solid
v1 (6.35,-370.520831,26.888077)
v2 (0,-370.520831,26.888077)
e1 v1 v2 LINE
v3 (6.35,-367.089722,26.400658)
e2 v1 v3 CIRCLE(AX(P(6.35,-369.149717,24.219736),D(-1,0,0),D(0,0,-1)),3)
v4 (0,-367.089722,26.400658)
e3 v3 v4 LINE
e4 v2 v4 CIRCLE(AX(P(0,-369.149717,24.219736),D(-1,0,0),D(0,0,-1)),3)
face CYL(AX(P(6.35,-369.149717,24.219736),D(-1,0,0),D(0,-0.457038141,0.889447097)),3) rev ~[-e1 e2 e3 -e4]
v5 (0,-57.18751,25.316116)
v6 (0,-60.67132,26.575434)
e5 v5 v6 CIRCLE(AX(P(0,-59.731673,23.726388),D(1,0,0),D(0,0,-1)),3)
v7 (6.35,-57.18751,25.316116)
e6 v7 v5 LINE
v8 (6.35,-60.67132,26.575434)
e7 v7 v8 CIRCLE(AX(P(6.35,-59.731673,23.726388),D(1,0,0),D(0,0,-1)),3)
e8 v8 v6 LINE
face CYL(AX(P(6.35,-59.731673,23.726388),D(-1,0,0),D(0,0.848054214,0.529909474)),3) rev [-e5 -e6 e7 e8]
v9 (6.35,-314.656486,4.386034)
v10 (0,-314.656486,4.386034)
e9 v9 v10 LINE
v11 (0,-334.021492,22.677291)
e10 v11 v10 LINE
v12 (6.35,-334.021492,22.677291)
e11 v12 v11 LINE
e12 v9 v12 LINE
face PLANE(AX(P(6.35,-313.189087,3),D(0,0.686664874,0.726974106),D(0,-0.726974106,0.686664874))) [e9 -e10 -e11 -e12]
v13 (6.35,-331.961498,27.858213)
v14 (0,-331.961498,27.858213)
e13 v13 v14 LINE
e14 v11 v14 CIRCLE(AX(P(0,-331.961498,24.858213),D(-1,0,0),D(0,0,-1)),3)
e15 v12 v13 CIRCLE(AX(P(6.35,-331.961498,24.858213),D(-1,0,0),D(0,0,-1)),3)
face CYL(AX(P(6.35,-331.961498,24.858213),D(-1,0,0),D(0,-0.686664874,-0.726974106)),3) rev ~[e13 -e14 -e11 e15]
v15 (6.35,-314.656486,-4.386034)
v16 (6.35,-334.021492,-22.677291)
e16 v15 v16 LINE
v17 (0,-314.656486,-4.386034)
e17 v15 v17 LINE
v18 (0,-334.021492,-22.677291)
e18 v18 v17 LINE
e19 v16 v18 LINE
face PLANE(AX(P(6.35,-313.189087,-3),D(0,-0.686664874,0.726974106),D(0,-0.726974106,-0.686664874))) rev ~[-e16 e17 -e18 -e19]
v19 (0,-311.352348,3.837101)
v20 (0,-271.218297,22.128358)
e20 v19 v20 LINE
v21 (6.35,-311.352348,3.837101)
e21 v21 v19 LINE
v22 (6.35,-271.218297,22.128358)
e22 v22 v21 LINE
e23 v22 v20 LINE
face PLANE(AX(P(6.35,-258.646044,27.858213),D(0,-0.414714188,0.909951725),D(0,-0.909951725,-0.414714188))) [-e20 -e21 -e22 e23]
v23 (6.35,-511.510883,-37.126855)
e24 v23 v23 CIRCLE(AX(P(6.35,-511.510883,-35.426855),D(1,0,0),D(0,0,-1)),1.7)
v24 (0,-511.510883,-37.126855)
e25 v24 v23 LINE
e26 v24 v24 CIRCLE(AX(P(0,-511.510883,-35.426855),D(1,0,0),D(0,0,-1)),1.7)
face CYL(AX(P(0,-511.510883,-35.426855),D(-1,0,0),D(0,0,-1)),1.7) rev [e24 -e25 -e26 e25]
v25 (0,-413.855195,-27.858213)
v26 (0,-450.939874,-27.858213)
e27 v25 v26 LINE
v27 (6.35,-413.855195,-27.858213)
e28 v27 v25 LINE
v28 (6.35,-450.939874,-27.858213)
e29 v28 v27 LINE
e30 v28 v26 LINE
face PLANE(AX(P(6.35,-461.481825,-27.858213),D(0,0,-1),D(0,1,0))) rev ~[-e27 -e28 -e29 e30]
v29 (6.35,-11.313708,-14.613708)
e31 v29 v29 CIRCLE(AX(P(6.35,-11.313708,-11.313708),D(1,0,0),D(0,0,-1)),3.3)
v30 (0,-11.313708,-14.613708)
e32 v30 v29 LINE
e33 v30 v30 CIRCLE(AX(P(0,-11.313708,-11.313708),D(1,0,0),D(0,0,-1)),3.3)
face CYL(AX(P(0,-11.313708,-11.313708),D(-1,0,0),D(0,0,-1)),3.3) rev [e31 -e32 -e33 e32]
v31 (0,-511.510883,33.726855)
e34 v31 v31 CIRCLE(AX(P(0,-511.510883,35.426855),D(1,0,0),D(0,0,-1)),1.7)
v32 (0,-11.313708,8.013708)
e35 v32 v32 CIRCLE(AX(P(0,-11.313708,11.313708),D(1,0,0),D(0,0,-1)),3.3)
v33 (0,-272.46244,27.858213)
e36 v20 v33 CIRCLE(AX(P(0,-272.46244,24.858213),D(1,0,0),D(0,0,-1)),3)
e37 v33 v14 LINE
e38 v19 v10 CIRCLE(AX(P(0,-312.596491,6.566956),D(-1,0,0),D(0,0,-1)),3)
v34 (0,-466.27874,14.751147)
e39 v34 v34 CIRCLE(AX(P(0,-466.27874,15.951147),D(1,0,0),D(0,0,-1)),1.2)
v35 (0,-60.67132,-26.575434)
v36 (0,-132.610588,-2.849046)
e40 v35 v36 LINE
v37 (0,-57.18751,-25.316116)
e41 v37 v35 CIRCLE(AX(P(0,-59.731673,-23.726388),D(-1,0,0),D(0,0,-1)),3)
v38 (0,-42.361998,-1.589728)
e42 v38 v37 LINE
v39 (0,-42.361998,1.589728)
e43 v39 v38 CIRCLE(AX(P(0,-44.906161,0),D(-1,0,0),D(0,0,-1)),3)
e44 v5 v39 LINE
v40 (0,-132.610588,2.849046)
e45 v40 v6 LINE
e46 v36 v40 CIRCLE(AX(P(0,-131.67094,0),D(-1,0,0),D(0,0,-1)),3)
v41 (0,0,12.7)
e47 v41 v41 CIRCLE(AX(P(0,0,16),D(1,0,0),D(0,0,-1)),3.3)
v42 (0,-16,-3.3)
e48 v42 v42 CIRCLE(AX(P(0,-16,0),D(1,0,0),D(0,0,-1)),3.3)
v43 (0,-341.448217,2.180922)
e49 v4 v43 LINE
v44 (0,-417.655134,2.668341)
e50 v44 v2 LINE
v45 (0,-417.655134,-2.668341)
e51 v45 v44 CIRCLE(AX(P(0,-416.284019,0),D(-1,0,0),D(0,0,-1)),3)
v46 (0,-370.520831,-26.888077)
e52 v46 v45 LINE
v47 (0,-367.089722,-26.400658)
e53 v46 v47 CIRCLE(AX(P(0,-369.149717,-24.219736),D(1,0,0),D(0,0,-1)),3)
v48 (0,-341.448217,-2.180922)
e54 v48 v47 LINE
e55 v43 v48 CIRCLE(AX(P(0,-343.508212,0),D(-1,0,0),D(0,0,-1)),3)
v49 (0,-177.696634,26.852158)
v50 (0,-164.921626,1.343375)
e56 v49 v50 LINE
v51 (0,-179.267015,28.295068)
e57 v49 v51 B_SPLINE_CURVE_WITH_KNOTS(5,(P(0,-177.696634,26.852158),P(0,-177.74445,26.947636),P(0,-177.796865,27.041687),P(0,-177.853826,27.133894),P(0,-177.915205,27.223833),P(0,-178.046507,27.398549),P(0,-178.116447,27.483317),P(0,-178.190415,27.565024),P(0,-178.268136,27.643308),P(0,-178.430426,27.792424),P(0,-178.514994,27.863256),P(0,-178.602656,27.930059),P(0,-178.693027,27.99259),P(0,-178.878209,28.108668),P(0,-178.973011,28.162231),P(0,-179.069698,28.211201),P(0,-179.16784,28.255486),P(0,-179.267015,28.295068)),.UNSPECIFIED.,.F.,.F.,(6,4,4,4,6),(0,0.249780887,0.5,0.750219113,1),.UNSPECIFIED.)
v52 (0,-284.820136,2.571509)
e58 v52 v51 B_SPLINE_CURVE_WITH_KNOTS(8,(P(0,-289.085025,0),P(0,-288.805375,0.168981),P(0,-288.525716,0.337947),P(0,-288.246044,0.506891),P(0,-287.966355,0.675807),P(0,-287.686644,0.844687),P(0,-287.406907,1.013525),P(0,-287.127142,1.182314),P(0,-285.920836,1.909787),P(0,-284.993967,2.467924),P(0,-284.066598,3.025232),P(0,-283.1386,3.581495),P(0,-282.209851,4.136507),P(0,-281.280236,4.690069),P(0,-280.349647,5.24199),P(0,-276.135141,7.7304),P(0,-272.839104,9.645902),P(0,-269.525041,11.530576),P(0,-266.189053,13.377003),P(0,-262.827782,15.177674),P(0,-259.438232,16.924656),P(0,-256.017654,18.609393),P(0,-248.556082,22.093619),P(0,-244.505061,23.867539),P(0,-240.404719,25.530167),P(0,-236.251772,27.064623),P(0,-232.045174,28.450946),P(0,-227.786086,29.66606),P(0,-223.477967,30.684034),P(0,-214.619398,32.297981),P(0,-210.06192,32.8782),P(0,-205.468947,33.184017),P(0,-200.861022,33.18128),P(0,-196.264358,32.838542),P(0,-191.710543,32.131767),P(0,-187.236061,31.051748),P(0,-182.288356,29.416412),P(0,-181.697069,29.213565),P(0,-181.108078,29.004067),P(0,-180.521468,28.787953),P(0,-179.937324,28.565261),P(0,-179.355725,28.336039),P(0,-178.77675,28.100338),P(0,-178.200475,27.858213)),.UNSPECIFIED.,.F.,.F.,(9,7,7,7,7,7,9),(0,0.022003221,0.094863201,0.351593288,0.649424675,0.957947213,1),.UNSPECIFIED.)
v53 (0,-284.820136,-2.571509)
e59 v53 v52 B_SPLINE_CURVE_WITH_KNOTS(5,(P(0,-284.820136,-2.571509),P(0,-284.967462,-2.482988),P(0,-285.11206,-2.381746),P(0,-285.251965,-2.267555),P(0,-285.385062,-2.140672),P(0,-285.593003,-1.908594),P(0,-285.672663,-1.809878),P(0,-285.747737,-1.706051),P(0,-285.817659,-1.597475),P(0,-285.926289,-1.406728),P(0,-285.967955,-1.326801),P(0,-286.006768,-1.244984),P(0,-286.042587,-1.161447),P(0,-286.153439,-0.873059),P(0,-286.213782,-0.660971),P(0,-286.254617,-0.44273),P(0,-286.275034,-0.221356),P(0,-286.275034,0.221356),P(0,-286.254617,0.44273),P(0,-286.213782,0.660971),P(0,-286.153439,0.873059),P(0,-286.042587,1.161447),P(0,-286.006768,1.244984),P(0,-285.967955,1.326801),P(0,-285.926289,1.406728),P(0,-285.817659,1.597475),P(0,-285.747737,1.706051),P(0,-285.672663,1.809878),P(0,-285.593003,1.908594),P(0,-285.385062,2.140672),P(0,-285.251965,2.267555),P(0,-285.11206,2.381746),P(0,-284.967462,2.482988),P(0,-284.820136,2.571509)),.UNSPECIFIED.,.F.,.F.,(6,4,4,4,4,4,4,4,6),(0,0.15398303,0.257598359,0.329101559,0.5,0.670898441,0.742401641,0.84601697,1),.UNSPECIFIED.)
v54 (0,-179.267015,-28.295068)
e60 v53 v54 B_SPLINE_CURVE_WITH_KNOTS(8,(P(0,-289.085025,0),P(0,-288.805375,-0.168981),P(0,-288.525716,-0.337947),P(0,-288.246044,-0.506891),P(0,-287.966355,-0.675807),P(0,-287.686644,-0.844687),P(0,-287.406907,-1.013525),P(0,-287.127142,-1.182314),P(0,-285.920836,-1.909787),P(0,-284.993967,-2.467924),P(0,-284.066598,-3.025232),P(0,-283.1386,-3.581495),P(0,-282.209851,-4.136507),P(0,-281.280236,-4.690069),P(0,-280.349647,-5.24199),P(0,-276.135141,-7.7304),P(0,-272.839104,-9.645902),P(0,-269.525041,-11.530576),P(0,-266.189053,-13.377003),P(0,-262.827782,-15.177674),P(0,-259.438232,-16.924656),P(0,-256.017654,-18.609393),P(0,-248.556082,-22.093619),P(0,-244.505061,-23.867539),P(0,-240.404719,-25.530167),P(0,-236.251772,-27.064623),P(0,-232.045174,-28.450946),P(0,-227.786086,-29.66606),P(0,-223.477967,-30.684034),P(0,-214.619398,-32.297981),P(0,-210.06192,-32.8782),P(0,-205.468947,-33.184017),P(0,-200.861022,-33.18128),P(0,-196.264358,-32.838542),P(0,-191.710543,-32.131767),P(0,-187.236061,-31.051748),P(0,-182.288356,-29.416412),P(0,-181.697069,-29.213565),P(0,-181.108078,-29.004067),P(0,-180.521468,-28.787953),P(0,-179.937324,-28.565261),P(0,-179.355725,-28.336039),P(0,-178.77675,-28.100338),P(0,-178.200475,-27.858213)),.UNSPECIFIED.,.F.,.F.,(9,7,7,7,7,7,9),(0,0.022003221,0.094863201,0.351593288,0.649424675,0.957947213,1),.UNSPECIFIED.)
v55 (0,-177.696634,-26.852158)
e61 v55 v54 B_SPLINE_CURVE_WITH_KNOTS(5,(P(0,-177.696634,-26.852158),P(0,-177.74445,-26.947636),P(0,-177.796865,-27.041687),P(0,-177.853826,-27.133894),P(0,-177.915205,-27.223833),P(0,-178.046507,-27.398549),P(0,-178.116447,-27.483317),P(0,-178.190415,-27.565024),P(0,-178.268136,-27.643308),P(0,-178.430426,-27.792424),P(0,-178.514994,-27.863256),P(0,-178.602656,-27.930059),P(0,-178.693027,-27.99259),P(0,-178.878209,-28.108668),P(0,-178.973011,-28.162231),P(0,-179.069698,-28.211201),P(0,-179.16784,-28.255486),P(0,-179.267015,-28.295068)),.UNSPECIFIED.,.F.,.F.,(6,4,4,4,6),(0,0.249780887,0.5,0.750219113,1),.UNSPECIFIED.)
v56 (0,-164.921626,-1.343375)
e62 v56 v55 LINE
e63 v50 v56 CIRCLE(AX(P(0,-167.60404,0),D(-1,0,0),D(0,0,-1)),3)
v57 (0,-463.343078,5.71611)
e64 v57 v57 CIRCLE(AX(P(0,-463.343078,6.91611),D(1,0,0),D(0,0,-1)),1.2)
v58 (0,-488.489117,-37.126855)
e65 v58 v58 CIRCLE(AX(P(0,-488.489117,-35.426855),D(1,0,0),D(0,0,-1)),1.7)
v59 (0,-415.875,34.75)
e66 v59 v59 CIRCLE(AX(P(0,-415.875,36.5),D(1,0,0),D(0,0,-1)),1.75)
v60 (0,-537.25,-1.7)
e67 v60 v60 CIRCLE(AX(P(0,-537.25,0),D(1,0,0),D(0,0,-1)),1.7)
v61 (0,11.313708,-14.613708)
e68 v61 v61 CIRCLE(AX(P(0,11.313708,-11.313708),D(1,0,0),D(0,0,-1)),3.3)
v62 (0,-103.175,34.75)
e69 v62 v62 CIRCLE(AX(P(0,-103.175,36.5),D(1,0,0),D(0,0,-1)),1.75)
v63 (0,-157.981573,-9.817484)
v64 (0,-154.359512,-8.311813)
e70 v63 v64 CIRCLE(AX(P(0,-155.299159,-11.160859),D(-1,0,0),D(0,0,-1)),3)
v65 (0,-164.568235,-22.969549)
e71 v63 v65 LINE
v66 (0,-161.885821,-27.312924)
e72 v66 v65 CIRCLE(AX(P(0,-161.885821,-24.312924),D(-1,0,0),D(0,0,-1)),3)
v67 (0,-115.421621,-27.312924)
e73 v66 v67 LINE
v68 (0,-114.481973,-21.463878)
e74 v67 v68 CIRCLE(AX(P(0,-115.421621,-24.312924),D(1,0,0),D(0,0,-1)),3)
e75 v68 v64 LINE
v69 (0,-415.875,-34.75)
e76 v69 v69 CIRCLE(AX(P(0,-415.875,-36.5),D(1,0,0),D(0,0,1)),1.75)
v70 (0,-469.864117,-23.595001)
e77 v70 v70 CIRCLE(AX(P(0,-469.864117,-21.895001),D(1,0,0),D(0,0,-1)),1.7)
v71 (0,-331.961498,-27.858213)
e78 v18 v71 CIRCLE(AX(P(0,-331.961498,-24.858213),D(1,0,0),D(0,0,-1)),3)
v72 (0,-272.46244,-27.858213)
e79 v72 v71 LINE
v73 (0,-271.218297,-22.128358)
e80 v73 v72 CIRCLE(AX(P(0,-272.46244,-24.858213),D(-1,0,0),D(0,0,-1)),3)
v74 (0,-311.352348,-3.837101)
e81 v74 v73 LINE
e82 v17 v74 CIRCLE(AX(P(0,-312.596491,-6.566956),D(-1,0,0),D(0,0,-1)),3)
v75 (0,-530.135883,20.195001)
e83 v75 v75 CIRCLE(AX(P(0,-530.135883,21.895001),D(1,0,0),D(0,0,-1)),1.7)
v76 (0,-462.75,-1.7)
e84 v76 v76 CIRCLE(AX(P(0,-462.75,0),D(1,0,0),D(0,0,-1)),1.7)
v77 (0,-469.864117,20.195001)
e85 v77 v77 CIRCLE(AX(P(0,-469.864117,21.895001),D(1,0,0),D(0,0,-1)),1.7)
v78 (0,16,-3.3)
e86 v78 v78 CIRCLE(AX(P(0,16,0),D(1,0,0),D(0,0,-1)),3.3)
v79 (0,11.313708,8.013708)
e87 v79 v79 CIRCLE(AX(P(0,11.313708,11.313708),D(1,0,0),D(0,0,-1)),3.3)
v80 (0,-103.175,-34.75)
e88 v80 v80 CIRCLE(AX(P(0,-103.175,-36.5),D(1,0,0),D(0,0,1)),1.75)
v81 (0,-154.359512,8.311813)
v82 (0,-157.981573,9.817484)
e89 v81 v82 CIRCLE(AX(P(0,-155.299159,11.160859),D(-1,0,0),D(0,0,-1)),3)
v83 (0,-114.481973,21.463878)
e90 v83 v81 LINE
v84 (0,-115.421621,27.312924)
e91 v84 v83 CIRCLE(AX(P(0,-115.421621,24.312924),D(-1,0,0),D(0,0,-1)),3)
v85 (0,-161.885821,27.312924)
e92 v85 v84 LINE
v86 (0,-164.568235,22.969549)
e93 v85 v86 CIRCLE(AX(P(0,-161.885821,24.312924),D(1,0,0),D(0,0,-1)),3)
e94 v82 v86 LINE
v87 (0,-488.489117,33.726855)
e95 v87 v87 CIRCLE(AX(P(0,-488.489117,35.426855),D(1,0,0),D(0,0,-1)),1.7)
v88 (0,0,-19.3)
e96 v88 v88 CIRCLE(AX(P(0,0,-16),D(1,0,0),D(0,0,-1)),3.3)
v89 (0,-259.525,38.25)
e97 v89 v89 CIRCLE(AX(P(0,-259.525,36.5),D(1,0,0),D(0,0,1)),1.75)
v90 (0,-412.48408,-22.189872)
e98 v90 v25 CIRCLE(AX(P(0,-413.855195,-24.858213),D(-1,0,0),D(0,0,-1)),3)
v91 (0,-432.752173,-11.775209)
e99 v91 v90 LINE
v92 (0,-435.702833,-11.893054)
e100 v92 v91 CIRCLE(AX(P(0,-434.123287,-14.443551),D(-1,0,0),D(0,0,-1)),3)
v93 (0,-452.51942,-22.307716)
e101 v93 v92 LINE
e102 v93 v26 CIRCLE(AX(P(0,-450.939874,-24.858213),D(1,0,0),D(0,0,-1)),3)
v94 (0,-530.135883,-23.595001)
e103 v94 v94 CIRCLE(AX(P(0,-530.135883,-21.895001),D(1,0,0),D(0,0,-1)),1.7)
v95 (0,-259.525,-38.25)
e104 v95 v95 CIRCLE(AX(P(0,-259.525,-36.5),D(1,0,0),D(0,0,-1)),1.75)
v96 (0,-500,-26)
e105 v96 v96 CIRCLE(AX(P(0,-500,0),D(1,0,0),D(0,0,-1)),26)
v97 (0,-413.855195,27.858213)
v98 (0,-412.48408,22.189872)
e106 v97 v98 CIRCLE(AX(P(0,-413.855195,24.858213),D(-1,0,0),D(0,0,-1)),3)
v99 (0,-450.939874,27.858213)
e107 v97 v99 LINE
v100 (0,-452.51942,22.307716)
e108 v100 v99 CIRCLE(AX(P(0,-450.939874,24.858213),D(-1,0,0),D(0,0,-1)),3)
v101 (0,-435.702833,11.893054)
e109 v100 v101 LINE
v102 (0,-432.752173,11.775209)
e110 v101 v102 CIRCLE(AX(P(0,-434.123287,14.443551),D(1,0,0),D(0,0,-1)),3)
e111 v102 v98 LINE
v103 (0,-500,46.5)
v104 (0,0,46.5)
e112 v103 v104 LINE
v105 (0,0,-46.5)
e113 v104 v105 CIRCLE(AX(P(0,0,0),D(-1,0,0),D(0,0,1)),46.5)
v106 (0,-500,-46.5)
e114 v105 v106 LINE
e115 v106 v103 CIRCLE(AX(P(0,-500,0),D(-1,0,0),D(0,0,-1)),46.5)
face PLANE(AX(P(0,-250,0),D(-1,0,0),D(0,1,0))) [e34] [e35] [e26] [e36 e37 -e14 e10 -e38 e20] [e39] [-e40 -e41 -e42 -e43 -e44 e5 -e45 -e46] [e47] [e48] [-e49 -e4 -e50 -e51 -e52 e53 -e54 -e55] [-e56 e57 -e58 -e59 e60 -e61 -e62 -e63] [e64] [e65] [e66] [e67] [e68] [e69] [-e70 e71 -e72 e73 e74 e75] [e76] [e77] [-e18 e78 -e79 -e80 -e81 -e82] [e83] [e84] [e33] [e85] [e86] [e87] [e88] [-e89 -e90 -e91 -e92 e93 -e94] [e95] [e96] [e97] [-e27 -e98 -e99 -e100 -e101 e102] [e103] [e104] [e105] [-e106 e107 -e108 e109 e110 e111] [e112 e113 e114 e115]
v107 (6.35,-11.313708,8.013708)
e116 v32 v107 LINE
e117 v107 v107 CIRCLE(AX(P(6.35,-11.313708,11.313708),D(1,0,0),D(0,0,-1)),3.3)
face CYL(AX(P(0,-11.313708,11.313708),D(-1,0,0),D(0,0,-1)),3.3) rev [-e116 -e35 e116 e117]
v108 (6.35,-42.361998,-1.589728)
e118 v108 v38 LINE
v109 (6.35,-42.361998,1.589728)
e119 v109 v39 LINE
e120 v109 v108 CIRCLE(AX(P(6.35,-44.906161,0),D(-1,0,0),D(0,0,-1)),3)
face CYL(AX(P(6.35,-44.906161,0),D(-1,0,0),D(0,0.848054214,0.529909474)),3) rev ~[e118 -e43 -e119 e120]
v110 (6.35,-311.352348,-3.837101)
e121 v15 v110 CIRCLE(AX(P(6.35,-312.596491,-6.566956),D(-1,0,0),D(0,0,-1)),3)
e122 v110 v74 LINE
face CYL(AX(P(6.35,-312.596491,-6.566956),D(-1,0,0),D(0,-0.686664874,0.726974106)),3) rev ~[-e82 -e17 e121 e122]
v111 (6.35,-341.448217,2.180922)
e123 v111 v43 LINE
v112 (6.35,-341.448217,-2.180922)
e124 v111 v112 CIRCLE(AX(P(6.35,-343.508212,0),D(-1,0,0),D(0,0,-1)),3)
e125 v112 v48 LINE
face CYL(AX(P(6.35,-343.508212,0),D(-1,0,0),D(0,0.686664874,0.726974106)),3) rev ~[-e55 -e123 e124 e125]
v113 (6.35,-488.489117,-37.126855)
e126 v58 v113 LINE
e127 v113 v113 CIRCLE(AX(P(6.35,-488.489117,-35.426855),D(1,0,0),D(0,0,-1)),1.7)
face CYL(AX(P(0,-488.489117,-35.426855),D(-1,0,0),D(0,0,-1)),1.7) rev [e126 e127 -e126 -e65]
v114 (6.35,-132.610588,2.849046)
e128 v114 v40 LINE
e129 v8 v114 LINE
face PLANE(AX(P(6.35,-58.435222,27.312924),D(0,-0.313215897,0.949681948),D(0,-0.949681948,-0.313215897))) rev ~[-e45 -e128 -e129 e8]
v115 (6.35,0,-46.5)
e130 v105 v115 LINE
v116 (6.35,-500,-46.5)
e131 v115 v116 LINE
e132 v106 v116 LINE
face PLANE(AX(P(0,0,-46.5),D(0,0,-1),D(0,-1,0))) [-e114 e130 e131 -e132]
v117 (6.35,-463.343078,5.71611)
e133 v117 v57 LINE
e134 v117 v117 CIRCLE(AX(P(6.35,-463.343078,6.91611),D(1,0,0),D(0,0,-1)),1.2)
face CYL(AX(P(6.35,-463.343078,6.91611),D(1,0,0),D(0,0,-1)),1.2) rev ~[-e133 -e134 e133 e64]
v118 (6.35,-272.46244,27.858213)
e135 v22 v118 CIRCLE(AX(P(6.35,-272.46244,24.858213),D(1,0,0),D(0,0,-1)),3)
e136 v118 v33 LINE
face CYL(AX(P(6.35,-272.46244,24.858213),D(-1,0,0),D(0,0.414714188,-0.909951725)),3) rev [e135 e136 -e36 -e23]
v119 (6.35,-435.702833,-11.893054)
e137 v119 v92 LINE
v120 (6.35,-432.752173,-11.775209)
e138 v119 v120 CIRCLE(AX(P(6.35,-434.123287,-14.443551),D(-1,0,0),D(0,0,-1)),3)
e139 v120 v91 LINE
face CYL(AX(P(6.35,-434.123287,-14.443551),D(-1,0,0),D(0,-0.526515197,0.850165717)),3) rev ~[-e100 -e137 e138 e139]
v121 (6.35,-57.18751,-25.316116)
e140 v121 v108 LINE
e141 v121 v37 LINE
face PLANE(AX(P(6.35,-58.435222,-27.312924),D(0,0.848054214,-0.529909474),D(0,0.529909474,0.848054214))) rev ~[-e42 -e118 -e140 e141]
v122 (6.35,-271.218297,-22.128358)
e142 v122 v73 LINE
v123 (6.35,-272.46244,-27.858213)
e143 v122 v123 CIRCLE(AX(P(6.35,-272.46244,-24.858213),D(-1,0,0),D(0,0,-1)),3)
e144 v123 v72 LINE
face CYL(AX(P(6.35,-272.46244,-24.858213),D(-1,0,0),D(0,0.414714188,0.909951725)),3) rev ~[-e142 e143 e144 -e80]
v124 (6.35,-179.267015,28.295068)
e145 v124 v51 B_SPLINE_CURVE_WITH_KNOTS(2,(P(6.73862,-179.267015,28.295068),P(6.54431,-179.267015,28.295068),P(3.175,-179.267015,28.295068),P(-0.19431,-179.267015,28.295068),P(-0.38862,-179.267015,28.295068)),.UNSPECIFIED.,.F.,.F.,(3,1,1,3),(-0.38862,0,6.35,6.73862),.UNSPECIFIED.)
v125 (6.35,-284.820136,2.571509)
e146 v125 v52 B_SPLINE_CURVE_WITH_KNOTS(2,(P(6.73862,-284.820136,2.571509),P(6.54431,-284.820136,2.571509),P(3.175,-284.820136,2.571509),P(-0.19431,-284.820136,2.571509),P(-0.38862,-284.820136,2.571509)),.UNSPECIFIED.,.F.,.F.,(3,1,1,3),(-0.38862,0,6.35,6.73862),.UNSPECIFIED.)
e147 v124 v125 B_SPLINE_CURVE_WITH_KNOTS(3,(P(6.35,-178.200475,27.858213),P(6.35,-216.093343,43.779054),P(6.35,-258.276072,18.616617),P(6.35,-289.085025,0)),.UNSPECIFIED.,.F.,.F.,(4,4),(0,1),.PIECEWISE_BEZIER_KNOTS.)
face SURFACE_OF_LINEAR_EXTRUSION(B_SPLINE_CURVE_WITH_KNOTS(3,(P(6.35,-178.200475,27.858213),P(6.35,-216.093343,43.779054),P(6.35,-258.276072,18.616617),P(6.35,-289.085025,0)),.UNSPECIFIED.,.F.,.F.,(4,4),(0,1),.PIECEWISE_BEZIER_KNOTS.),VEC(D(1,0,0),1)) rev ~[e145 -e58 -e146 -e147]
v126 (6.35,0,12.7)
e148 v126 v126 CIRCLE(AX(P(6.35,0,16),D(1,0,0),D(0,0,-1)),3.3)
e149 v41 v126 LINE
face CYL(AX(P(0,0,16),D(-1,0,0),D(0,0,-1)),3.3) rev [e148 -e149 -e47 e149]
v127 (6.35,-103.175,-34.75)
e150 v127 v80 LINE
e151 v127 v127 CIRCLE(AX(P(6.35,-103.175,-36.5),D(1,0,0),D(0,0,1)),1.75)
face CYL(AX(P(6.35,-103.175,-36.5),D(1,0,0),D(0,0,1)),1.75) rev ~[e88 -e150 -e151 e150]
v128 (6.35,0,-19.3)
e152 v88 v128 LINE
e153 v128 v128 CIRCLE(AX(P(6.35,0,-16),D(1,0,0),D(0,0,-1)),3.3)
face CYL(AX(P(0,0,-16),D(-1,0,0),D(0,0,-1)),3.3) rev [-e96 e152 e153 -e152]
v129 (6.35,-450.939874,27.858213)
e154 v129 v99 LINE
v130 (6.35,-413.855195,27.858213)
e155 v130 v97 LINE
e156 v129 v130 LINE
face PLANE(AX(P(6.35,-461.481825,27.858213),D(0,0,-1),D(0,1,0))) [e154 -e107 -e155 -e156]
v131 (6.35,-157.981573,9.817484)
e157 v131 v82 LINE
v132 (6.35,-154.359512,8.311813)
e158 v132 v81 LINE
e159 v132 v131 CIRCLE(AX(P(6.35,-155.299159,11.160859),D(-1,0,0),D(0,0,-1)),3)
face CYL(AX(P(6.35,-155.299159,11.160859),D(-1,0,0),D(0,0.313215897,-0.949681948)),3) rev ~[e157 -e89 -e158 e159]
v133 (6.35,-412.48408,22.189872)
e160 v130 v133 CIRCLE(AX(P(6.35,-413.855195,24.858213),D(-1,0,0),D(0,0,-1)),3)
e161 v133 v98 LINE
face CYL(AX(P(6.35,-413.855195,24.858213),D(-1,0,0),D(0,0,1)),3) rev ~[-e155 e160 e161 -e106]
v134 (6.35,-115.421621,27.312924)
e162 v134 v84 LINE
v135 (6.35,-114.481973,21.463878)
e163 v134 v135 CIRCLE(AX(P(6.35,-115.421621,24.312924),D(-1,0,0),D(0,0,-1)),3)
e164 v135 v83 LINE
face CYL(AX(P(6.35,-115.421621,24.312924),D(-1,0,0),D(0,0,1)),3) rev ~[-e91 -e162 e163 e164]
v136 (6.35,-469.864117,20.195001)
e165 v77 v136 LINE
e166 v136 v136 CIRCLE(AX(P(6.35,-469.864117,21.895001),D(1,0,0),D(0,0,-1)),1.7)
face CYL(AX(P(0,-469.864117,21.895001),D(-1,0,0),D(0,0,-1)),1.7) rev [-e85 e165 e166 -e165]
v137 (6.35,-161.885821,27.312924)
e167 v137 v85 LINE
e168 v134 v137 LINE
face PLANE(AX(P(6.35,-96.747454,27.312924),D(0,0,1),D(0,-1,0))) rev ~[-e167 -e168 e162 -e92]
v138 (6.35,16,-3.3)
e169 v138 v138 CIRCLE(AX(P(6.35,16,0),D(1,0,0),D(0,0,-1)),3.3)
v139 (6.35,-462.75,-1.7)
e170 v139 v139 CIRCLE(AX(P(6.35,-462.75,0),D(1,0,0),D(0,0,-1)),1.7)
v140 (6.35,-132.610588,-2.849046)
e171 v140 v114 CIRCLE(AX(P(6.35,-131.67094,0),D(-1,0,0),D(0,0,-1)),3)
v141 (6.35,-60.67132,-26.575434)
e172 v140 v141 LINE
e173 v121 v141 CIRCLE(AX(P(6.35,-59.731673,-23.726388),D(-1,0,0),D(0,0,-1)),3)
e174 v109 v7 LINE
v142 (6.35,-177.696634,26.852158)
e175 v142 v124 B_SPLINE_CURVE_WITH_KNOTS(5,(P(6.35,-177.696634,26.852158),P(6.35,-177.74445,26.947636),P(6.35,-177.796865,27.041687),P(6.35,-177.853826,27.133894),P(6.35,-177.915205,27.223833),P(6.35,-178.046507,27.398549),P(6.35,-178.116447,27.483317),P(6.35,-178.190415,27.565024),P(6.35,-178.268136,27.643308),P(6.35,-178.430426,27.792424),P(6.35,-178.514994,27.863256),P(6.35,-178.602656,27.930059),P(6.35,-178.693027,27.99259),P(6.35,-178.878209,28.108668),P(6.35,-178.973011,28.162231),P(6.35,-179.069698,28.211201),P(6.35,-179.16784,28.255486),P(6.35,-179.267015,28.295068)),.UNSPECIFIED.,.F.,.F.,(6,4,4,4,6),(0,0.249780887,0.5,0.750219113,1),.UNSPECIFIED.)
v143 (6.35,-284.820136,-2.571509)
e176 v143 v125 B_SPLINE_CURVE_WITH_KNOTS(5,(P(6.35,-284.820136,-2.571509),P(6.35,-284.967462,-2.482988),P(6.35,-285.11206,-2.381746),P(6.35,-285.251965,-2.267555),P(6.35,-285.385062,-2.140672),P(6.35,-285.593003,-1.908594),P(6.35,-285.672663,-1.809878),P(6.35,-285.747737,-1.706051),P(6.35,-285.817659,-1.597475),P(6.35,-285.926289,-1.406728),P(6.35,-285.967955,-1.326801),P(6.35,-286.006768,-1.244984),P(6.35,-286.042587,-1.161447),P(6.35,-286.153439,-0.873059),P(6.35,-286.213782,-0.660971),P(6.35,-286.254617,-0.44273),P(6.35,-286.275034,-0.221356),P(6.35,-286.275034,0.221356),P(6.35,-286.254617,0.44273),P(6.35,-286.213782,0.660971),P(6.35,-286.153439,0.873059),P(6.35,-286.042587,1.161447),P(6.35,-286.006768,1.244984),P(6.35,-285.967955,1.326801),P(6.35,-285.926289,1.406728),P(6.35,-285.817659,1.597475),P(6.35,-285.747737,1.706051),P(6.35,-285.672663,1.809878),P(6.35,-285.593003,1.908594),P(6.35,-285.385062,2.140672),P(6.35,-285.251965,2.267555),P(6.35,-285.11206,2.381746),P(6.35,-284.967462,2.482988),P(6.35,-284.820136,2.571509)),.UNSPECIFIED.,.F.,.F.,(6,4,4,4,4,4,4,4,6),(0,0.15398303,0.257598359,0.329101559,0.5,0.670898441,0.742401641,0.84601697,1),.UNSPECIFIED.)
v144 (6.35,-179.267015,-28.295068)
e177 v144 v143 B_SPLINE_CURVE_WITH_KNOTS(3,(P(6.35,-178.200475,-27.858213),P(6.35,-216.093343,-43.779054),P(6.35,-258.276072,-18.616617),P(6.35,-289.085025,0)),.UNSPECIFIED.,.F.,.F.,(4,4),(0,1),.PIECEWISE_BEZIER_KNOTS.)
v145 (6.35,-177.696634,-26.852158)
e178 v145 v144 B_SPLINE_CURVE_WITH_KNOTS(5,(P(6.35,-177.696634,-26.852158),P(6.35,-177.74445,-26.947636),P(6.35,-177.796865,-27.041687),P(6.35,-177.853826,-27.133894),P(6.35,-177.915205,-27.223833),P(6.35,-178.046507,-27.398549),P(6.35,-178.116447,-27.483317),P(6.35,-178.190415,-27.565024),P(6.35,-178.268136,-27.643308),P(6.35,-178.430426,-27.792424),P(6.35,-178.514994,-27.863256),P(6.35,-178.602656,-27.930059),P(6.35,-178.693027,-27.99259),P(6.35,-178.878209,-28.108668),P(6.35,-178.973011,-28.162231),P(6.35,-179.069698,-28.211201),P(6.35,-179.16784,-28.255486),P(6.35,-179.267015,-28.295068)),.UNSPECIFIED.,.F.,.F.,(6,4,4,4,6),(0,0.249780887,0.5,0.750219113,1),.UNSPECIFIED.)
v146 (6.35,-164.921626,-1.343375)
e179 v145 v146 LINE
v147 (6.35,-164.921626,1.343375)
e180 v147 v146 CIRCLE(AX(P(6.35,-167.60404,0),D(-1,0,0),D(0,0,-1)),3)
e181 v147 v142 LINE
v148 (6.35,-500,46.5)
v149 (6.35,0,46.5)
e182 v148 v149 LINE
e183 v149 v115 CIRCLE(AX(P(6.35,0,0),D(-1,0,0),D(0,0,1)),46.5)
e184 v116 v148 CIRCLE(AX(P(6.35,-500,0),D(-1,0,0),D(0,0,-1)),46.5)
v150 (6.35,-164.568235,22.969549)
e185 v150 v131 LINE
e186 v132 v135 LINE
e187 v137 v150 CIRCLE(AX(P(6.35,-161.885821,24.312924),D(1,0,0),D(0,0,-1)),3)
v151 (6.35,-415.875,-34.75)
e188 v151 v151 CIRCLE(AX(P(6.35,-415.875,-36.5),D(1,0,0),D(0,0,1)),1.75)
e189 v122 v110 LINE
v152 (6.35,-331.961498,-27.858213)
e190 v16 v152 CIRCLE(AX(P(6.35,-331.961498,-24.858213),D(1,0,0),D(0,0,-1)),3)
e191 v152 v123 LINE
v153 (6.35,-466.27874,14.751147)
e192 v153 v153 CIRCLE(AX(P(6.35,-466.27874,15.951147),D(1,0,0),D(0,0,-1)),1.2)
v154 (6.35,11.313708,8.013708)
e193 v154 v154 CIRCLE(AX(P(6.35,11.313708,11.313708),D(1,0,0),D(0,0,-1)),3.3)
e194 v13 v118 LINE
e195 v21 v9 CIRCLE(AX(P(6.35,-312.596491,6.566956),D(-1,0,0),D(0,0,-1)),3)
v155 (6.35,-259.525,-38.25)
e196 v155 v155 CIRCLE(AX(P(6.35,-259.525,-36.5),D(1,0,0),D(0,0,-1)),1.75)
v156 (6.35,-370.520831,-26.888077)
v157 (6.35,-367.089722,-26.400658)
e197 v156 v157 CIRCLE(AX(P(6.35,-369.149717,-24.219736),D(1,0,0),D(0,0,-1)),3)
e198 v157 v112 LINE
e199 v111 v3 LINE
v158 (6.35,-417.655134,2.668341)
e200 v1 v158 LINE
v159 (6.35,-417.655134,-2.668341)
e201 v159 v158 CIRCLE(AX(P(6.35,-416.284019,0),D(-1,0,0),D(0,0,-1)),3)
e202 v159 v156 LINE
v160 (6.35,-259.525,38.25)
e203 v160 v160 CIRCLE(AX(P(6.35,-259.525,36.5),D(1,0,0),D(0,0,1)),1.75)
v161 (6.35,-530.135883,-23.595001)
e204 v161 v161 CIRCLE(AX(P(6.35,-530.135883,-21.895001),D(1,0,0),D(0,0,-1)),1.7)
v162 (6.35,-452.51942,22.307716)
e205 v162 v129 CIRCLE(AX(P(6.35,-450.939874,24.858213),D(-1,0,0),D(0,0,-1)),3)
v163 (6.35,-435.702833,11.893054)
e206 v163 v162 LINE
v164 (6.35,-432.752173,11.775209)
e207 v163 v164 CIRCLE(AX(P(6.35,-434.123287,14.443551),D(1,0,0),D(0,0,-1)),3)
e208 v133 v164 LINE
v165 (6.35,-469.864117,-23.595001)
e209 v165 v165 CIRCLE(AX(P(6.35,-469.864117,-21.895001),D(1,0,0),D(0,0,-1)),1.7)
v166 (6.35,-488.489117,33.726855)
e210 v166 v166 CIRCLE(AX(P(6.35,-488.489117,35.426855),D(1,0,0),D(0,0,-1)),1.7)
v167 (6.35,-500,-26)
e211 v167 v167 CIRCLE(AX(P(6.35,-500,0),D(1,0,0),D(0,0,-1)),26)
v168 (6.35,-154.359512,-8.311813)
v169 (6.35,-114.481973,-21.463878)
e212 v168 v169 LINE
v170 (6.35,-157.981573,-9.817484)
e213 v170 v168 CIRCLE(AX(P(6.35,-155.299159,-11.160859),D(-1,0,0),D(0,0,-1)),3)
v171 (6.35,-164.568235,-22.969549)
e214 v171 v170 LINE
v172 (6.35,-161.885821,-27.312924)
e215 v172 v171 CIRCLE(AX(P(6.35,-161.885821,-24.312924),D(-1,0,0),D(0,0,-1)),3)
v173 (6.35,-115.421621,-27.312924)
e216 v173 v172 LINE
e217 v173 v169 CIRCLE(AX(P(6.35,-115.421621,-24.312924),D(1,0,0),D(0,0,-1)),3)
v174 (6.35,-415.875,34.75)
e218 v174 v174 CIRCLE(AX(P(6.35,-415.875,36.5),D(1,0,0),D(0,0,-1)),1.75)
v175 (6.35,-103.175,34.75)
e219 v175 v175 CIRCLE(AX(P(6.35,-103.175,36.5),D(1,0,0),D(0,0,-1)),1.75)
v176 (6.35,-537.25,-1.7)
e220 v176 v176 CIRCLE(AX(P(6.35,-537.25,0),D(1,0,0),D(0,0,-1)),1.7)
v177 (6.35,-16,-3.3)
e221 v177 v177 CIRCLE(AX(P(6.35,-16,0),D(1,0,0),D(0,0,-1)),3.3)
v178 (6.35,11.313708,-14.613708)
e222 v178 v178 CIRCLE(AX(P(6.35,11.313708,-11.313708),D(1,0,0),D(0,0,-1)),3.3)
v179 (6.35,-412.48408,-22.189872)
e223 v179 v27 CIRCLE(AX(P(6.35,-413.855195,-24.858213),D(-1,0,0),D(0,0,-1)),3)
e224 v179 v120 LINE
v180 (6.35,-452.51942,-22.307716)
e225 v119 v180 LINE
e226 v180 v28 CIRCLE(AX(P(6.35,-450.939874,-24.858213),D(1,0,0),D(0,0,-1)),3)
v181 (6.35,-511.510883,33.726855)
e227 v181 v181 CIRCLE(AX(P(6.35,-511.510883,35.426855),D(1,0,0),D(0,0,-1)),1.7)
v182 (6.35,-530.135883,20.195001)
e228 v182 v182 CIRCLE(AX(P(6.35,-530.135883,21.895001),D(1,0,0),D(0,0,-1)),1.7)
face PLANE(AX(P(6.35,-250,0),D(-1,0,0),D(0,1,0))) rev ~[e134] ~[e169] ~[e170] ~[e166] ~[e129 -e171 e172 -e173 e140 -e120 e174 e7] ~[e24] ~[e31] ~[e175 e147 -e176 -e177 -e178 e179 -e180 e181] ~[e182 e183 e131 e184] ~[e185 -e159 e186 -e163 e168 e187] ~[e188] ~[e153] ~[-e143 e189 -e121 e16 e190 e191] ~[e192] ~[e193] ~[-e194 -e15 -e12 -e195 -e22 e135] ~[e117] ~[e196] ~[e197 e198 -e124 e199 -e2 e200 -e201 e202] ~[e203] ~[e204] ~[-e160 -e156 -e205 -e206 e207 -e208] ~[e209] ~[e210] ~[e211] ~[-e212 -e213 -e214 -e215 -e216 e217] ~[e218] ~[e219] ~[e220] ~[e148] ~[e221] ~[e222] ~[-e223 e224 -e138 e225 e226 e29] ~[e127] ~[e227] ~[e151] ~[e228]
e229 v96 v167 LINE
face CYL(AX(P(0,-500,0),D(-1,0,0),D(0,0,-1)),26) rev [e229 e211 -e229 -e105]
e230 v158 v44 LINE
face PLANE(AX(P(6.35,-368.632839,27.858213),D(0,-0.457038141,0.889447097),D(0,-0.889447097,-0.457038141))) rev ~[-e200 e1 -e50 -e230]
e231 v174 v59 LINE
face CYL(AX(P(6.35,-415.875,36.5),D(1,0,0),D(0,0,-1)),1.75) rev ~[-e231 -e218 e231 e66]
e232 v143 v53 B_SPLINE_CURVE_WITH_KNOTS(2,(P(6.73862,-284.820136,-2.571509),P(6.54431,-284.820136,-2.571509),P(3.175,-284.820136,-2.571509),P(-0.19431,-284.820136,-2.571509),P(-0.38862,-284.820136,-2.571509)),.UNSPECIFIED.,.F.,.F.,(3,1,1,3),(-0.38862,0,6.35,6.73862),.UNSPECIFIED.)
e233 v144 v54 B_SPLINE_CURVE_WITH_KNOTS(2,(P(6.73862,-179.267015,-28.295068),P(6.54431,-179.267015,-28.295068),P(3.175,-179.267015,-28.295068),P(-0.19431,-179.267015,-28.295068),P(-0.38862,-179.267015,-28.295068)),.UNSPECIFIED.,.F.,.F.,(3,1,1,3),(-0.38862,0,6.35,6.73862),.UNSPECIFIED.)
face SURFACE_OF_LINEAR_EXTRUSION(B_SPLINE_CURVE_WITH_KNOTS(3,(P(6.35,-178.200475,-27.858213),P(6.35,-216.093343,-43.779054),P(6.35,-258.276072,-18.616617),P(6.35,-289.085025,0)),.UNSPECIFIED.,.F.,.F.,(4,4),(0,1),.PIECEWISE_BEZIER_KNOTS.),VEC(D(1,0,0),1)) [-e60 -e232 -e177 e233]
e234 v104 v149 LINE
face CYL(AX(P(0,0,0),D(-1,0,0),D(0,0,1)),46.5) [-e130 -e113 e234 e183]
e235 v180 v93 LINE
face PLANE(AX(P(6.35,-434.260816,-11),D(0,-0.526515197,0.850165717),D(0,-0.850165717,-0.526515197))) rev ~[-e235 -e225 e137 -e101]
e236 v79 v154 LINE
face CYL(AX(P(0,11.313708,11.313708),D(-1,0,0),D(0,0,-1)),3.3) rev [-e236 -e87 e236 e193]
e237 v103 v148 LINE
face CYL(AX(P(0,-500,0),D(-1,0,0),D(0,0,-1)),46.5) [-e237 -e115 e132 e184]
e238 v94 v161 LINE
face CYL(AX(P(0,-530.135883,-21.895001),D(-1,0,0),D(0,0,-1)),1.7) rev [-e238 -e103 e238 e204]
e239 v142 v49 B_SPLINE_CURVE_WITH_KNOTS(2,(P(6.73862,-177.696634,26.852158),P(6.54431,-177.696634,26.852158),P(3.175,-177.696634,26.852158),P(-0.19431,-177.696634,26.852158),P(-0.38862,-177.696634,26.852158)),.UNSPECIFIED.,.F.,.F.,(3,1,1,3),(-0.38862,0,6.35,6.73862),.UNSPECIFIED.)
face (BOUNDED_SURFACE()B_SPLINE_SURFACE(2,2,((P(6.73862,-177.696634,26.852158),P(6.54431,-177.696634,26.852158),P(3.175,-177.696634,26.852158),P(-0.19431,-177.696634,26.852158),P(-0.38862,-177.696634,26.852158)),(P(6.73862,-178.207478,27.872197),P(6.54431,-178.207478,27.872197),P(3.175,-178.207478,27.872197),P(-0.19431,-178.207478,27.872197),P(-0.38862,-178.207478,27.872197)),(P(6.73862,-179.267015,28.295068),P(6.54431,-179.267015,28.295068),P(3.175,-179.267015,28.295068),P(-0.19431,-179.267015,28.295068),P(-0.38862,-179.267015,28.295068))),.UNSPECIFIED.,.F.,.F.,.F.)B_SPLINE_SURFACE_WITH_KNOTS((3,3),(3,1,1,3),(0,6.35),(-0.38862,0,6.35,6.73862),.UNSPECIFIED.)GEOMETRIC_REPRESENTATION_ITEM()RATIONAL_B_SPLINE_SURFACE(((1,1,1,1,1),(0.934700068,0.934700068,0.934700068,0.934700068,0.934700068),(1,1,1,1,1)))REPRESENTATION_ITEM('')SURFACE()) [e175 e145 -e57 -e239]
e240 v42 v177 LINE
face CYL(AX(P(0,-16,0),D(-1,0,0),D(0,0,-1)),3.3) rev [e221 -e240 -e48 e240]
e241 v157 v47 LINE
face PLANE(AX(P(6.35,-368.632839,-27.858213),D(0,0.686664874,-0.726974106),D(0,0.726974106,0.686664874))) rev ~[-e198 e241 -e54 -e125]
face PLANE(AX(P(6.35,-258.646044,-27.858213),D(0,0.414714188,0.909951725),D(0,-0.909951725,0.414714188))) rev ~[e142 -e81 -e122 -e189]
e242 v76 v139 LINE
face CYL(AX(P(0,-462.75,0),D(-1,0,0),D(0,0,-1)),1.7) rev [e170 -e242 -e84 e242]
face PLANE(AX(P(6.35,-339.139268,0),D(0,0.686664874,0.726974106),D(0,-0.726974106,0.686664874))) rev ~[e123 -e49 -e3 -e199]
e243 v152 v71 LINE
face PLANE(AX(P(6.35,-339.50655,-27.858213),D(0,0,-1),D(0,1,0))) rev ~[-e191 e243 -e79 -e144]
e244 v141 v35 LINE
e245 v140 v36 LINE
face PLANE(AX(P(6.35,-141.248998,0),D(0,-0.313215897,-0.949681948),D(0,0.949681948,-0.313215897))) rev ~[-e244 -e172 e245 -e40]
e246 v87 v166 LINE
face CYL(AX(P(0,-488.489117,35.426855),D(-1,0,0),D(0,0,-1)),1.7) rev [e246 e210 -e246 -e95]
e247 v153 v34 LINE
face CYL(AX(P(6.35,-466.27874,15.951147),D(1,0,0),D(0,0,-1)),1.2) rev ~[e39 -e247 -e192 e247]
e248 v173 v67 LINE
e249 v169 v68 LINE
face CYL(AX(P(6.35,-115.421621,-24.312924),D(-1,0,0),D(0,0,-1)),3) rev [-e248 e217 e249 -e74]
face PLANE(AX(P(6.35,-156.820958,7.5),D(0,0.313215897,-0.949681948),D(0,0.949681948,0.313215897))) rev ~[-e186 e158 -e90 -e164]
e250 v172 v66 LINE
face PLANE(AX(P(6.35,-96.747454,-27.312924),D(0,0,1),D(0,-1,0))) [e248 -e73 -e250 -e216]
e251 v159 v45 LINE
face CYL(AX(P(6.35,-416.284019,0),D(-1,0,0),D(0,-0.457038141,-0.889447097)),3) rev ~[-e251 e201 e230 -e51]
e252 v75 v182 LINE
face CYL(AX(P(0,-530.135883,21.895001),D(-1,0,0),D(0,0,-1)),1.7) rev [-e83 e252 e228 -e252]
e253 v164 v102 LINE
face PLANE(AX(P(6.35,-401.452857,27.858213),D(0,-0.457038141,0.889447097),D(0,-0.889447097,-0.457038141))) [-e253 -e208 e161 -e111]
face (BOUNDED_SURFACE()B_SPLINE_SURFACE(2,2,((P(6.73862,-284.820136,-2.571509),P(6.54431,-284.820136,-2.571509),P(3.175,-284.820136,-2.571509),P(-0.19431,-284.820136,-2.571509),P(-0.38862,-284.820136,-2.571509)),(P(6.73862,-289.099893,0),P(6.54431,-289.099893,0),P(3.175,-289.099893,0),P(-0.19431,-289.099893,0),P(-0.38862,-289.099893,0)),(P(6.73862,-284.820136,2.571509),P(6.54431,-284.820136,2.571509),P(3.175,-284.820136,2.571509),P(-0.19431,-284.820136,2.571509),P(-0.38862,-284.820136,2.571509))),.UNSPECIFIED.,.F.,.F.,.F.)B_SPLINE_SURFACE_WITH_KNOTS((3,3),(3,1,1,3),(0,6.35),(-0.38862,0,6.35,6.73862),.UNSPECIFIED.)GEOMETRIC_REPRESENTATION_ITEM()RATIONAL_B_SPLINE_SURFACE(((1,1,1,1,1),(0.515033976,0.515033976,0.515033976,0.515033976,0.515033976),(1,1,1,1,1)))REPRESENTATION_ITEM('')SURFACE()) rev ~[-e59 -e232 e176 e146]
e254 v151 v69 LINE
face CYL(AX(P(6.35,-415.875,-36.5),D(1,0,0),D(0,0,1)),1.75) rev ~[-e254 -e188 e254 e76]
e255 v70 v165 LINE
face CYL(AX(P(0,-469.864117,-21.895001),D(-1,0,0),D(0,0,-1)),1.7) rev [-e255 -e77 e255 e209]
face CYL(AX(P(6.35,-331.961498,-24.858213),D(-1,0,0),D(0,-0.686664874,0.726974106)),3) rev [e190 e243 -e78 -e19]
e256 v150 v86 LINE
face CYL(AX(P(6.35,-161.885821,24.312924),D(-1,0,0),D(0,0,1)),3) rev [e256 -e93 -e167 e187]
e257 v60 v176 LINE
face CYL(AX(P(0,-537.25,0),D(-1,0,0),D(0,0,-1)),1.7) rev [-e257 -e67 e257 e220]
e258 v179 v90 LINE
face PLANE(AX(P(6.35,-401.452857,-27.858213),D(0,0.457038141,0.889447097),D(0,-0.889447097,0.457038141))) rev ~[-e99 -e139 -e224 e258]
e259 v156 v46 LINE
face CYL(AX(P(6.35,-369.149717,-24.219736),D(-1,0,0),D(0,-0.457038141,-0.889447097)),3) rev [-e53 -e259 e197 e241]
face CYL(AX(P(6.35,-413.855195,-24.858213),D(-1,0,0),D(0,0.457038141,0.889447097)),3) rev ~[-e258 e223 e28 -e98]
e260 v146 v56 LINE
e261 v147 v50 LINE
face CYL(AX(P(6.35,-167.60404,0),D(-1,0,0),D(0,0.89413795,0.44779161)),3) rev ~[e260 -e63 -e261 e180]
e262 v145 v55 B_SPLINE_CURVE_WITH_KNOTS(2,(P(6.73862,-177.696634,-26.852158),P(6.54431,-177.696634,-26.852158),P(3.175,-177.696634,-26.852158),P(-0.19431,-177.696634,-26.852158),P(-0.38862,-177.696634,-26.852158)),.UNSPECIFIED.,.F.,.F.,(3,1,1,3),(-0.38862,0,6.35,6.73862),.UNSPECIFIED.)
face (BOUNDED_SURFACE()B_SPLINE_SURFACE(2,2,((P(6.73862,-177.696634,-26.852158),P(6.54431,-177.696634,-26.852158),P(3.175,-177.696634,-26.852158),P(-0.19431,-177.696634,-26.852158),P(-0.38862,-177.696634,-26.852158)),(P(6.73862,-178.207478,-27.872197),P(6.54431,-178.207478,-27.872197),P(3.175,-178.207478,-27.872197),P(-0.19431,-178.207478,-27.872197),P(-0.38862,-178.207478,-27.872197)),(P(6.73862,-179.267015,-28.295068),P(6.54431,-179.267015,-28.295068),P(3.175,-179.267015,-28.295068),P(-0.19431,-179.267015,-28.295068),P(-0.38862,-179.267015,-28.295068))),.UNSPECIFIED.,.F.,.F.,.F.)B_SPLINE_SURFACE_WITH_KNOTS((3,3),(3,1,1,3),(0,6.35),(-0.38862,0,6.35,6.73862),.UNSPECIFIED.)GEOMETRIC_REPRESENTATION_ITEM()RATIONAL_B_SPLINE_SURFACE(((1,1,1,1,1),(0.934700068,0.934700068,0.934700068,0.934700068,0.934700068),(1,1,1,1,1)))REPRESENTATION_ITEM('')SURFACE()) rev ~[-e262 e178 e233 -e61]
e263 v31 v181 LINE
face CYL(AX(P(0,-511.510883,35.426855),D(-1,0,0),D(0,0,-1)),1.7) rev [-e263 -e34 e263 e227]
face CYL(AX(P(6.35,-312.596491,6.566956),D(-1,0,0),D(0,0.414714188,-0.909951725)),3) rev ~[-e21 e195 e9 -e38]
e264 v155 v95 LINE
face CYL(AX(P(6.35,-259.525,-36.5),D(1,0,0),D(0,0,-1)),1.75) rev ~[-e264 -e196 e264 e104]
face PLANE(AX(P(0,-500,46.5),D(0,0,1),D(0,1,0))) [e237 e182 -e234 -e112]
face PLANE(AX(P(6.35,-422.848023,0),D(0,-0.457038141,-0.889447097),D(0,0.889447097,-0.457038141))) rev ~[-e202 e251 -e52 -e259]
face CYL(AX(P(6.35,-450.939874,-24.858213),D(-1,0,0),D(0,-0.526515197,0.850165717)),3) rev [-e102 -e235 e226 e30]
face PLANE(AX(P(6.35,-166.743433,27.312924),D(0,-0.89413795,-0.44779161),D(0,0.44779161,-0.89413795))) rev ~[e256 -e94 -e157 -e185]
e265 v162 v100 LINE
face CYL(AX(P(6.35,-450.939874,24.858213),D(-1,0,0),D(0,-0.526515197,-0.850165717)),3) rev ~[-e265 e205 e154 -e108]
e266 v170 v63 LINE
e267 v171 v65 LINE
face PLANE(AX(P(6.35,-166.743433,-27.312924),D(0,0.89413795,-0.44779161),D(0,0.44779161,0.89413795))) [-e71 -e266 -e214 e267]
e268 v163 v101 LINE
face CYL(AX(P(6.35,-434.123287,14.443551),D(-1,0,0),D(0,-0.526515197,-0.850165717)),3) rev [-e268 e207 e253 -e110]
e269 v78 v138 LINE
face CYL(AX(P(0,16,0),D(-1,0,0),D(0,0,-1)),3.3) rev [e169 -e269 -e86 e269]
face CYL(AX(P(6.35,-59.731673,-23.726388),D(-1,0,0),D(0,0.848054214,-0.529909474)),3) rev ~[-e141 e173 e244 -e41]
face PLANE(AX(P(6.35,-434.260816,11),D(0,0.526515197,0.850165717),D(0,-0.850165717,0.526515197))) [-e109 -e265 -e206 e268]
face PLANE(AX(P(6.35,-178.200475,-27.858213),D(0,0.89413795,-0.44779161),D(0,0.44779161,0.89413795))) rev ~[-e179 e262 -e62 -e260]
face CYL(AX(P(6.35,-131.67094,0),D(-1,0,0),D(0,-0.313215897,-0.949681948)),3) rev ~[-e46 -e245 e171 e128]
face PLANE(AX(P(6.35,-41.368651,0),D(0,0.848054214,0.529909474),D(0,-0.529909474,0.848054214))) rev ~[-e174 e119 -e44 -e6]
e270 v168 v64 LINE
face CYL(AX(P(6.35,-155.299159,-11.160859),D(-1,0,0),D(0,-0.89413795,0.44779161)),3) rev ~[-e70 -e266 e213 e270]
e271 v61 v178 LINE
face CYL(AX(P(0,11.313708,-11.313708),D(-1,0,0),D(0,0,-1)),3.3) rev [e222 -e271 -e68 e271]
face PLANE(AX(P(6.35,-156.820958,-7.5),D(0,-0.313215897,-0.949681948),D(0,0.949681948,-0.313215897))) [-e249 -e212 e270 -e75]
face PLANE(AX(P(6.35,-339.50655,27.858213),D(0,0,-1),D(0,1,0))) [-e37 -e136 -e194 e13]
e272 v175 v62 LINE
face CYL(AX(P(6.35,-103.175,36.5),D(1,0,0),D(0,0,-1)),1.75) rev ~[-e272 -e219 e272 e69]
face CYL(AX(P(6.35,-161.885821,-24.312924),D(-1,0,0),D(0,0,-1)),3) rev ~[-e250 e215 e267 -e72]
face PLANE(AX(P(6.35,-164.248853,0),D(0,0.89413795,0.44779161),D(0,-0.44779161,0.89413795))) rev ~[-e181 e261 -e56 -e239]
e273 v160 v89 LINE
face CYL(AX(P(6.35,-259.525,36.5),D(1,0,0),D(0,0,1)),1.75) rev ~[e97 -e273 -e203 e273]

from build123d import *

# Parameters (mm, degrees)
SKETCH1_R           = 3.3
SKETCH1_R_2         = 1.7
SKETCH1_R_3         = 26
BOSS_EXTRUDE1_DEPTH = 6.35
CUT_EXTRUDE1_DEPTH  = 549.511460682
FILLET1_R           = 3
SKETCH4_R           = 1.75
CUT_EXTRUDE2_DEPTH  = 549.511460792
SKETCH5_R           = 1.2
CUT_EXTRUDE4_DEPTH  = 549.511460792


with BuildPart() as part:
    # Sketch1 → Boss-Extrude1 (new body)
    with BuildSketch(Plane(origin=(0, 0, 0), x_dir=(0, -1, 0), z_dir=(1, 0, 0))):
        with BuildLine():
            Line((500, 46.5), (0, 46.5))
            ThreePointArc((0, 46.5), (-46.5, 0), (0, -46.5))
            Line((0, -46.5), (500, -46.5))
            ThreePointArc((500, -46.5), (546.5, 0), (500, 46.5))
        make_face()
        with Locations((0, -16)):
            Circle(SKETCH1_R, mode=Mode.SUBTRACT)
        with Locations((-11.313708499, -11.313708499)):
            Circle(SKETCH1_R, mode=Mode.SUBTRACT)
        with Locations((11.313708499, -11.313708499)):
            Circle(SKETCH1_R, mode=Mode.SUBTRACT)
        with Locations((16, 0)):
            Circle(SKETCH1_R, mode=Mode.SUBTRACT)
        with Locations((488.48911696, -35.426855232)):
            Circle(SKETCH1_R_2, mode=Mode.SUBTRACT)
        with Locations((511.51088304, -35.426855232)):
            Circle(SKETCH1_R_2, mode=Mode.SUBTRACT)
        with Locations((469.86411696, -21.895000648)):
            Circle(SKETCH1_R_2, mode=Mode.SUBTRACT)
        with Locations((530.13588304, -21.895000648)):
            Circle(SKETCH1_R_2, mode=Mode.SUBTRACT)
        with Locations((462.75, 0)):
            Circle(SKETCH1_R_2, mode=Mode.SUBTRACT)
        with Locations((-16, 0)):
            Circle(SKETCH1_R, mode=Mode.SUBTRACT)
        with Locations((-11.313708499, 11.313708499)):
            Circle(SKETCH1_R, mode=Mode.SUBTRACT)
        with Locations((11.313708499, 11.313708499)):
            Circle(SKETCH1_R, mode=Mode.SUBTRACT)
        with Locations((0, 16)):
            Circle(SKETCH1_R, mode=Mode.SUBTRACT)
        with Locations((500, 0)):
            Circle(SKETCH1_R_3, mode=Mode.SUBTRACT)
        with Locations((537.25, 0)):
            Circle(SKETCH1_R_2, mode=Mode.SUBTRACT)
        with Locations((469.86411696, 21.895000648)):
            Circle(SKETCH1_R_2, mode=Mode.SUBTRACT)
        with Locations((530.13588304, 21.895000648)):
            Circle(SKETCH1_R_2, mode=Mode.SUBTRACT)
        with Locations((488.48911696, 35.426855232)):
            Circle(SKETCH1_R_2, mode=Mode.SUBTRACT)
        with Locations((511.51088304, 35.426855232)):
            Circle(SKETCH1_R_2, mode=Mode.SUBTRACT)
    extrude(amount=BOSS_EXTRUDE1_DEPTH)

    # Sketch3 → Cut-Extrude1 (cut, through all)
    with BuildSketch(Plane(origin=(6.35, 0, 0), x_dir=(0, 0, -1), z_dir=(1, 0, 0))):
        Polygon((0, -422.848022722), (27.858212922, -368.632839363), (0, -339.139268075), (-27.858212922, -368.632839363), align=None)
        Polygon((0, -41.368651369), (-27.312924288, -58.435222232), (0, -141.248998295), (27.312924288, -58.435222232), align=None)
        Polygon((3, -313.189087212), (27.858212922, -339.506549748), (27.858212922, -258.646044282), align=None)
        Polygon((-27.858212922, -339.506549748), (-27.858212922, -258.646044282), (-3, -313.189087212), align=None)
        Polygon((-27.858212922, -401.452857349), (-11, -434.260816252), (-27.858212922, -461.481824785), align=None)
        Polygon((11, -434.260816252), (27.858212922, -461.481824785), (27.858212922, -401.452857349), align=None)
        with BuildLine():
            Line((0, -164.248853344), (-27.858212922, -178.200474573))
            add(Edge.make_bspline(
                [(-27.858212922, -178.200474573), (-43.7790539, -216.093343216), (-18.61661693, -258.276071598), (0, -289.085024731)],
                knots=[0, 0, 0, 0, 1, 1, 1, 1], degree=3))
            add(Edge.make_bspline(
                [(27.858212922, -178.200474573), (43.7790539, -216.093343216), (18.61661693, -258.276071598), (0, -289.085024731)],
                knots=[0, 0, 0, 0, 1, 1, 1, 1], degree=3))
            Line((27.858212922, -178.200474573), (0, -164.248853344))
        make_face()
        Polygon((7.5, -156.820958214), (27.312924288, -96.747453897), (27.312924288, -166.743432993), align=None)
        Polygon((-27.312924288, -96.747453897), (-27.312924288, -166.743432993), (-7.5, -156.820958214), align=None)
    extrude(amount=-CUT_EXTRUDE1_DEPTH, mode=Mode.SUBTRACT)

    # Fillet1
    fillet1_edges = [part.edges().sort_by_distance(p)[0] for p in [
        (3.175, -58.435222232, -27.312924288),
        (3.175, -41.368651369, 0),
        (3.175, -58.435222232, 27.312924288),
        (3.175, -141.248998295, 0),
        (3.175, -289.085024731, 0),
        (3.175, -164.248853344, 0),
        (3.175, -401.452857349, 27.858212922),
        (3.175, -434.260816252, 11),
        (3.175, -461.481824785, 27.858212922),
        (3.175, -461.481824785, -27.858212922),
        (3.175, -434.260816252, -11),
        (3.175, -401.452857349, -27.858212922),
        (3.175, -368.632839363, -27.858212922),
        (3.175, -339.139268075, 0),
        (3.175, -368.632839363, 27.858212922),
        (3.175, -422.848022722, 0),
        (3.175, -313.189087212, 3),
        (3.175, -339.506549748, 27.858212922),
        (3.175, -258.646044282, 27.858212922),
        (3.175, -178.200474573, -27.858212922),
        (3.175, -178.200474573, 27.858212922),
        (3.175, -339.506549748, -27.858212922),
        (3.175, -313.189087212, -3),
        (3.175, -258.646044282, -27.858212922),
        (3.175, -96.747453897, 27.312924288),
        (3.175, -166.743432993, 27.312924288),
        (3.175, -156.820958214, 7.5),
        (3.175, -166.743432993, -27.312924288),
        (3.175, -156.820958214, -7.5),
        (3.175, -96.747453897, -27.312924288),
    ]]
    fillet(fillet1_edges, radius=FILLET1_R)

    # Sketch4 → Cut-Extrude2 (cut, through all)
    with BuildSketch(Plane(origin=(6.35, 0, 0), x_dir=(0, 0, -1), z_dir=(1, 0, 0))):
        with Locations((-36.5, -103.175)):
            Circle(SKETCH4_R)
        with Locations((36.5, -103.175)):
            Circle(SKETCH4_R)
        with Locations((-36.5, -259.525)):
            Circle(SKETCH4_R)
        with Locations((36.5, -259.525)):
            Circle(SKETCH4_R)
        with Locations((-36.5, -415.875)):
            Circle(SKETCH4_R)
        with Locations((36.5, -415.875)):
            Circle(SKETCH4_R)
    extrude(amount=-CUT_EXTRUDE2_DEPTH, mode=Mode.SUBTRACT)

    # Sketch5 → Cut-Extrude4 (cut, through all)
    with BuildSketch(Plane(origin=(6.35, 0, 0), x_dir=(0, 0, -1), z_dir=(1, 0, 0))):
        with Locations((-6.916110339, -463.343078174)):
            Circle(SKETCH5_R)
        with Locations((-15.951147244, -466.27873962)):
            Circle(SKETCH5_R)
    extrude(amount=-CUT_EXTRUDE4_DEPTH, mode=Mode.SUBTRACT)


solid = part.part
